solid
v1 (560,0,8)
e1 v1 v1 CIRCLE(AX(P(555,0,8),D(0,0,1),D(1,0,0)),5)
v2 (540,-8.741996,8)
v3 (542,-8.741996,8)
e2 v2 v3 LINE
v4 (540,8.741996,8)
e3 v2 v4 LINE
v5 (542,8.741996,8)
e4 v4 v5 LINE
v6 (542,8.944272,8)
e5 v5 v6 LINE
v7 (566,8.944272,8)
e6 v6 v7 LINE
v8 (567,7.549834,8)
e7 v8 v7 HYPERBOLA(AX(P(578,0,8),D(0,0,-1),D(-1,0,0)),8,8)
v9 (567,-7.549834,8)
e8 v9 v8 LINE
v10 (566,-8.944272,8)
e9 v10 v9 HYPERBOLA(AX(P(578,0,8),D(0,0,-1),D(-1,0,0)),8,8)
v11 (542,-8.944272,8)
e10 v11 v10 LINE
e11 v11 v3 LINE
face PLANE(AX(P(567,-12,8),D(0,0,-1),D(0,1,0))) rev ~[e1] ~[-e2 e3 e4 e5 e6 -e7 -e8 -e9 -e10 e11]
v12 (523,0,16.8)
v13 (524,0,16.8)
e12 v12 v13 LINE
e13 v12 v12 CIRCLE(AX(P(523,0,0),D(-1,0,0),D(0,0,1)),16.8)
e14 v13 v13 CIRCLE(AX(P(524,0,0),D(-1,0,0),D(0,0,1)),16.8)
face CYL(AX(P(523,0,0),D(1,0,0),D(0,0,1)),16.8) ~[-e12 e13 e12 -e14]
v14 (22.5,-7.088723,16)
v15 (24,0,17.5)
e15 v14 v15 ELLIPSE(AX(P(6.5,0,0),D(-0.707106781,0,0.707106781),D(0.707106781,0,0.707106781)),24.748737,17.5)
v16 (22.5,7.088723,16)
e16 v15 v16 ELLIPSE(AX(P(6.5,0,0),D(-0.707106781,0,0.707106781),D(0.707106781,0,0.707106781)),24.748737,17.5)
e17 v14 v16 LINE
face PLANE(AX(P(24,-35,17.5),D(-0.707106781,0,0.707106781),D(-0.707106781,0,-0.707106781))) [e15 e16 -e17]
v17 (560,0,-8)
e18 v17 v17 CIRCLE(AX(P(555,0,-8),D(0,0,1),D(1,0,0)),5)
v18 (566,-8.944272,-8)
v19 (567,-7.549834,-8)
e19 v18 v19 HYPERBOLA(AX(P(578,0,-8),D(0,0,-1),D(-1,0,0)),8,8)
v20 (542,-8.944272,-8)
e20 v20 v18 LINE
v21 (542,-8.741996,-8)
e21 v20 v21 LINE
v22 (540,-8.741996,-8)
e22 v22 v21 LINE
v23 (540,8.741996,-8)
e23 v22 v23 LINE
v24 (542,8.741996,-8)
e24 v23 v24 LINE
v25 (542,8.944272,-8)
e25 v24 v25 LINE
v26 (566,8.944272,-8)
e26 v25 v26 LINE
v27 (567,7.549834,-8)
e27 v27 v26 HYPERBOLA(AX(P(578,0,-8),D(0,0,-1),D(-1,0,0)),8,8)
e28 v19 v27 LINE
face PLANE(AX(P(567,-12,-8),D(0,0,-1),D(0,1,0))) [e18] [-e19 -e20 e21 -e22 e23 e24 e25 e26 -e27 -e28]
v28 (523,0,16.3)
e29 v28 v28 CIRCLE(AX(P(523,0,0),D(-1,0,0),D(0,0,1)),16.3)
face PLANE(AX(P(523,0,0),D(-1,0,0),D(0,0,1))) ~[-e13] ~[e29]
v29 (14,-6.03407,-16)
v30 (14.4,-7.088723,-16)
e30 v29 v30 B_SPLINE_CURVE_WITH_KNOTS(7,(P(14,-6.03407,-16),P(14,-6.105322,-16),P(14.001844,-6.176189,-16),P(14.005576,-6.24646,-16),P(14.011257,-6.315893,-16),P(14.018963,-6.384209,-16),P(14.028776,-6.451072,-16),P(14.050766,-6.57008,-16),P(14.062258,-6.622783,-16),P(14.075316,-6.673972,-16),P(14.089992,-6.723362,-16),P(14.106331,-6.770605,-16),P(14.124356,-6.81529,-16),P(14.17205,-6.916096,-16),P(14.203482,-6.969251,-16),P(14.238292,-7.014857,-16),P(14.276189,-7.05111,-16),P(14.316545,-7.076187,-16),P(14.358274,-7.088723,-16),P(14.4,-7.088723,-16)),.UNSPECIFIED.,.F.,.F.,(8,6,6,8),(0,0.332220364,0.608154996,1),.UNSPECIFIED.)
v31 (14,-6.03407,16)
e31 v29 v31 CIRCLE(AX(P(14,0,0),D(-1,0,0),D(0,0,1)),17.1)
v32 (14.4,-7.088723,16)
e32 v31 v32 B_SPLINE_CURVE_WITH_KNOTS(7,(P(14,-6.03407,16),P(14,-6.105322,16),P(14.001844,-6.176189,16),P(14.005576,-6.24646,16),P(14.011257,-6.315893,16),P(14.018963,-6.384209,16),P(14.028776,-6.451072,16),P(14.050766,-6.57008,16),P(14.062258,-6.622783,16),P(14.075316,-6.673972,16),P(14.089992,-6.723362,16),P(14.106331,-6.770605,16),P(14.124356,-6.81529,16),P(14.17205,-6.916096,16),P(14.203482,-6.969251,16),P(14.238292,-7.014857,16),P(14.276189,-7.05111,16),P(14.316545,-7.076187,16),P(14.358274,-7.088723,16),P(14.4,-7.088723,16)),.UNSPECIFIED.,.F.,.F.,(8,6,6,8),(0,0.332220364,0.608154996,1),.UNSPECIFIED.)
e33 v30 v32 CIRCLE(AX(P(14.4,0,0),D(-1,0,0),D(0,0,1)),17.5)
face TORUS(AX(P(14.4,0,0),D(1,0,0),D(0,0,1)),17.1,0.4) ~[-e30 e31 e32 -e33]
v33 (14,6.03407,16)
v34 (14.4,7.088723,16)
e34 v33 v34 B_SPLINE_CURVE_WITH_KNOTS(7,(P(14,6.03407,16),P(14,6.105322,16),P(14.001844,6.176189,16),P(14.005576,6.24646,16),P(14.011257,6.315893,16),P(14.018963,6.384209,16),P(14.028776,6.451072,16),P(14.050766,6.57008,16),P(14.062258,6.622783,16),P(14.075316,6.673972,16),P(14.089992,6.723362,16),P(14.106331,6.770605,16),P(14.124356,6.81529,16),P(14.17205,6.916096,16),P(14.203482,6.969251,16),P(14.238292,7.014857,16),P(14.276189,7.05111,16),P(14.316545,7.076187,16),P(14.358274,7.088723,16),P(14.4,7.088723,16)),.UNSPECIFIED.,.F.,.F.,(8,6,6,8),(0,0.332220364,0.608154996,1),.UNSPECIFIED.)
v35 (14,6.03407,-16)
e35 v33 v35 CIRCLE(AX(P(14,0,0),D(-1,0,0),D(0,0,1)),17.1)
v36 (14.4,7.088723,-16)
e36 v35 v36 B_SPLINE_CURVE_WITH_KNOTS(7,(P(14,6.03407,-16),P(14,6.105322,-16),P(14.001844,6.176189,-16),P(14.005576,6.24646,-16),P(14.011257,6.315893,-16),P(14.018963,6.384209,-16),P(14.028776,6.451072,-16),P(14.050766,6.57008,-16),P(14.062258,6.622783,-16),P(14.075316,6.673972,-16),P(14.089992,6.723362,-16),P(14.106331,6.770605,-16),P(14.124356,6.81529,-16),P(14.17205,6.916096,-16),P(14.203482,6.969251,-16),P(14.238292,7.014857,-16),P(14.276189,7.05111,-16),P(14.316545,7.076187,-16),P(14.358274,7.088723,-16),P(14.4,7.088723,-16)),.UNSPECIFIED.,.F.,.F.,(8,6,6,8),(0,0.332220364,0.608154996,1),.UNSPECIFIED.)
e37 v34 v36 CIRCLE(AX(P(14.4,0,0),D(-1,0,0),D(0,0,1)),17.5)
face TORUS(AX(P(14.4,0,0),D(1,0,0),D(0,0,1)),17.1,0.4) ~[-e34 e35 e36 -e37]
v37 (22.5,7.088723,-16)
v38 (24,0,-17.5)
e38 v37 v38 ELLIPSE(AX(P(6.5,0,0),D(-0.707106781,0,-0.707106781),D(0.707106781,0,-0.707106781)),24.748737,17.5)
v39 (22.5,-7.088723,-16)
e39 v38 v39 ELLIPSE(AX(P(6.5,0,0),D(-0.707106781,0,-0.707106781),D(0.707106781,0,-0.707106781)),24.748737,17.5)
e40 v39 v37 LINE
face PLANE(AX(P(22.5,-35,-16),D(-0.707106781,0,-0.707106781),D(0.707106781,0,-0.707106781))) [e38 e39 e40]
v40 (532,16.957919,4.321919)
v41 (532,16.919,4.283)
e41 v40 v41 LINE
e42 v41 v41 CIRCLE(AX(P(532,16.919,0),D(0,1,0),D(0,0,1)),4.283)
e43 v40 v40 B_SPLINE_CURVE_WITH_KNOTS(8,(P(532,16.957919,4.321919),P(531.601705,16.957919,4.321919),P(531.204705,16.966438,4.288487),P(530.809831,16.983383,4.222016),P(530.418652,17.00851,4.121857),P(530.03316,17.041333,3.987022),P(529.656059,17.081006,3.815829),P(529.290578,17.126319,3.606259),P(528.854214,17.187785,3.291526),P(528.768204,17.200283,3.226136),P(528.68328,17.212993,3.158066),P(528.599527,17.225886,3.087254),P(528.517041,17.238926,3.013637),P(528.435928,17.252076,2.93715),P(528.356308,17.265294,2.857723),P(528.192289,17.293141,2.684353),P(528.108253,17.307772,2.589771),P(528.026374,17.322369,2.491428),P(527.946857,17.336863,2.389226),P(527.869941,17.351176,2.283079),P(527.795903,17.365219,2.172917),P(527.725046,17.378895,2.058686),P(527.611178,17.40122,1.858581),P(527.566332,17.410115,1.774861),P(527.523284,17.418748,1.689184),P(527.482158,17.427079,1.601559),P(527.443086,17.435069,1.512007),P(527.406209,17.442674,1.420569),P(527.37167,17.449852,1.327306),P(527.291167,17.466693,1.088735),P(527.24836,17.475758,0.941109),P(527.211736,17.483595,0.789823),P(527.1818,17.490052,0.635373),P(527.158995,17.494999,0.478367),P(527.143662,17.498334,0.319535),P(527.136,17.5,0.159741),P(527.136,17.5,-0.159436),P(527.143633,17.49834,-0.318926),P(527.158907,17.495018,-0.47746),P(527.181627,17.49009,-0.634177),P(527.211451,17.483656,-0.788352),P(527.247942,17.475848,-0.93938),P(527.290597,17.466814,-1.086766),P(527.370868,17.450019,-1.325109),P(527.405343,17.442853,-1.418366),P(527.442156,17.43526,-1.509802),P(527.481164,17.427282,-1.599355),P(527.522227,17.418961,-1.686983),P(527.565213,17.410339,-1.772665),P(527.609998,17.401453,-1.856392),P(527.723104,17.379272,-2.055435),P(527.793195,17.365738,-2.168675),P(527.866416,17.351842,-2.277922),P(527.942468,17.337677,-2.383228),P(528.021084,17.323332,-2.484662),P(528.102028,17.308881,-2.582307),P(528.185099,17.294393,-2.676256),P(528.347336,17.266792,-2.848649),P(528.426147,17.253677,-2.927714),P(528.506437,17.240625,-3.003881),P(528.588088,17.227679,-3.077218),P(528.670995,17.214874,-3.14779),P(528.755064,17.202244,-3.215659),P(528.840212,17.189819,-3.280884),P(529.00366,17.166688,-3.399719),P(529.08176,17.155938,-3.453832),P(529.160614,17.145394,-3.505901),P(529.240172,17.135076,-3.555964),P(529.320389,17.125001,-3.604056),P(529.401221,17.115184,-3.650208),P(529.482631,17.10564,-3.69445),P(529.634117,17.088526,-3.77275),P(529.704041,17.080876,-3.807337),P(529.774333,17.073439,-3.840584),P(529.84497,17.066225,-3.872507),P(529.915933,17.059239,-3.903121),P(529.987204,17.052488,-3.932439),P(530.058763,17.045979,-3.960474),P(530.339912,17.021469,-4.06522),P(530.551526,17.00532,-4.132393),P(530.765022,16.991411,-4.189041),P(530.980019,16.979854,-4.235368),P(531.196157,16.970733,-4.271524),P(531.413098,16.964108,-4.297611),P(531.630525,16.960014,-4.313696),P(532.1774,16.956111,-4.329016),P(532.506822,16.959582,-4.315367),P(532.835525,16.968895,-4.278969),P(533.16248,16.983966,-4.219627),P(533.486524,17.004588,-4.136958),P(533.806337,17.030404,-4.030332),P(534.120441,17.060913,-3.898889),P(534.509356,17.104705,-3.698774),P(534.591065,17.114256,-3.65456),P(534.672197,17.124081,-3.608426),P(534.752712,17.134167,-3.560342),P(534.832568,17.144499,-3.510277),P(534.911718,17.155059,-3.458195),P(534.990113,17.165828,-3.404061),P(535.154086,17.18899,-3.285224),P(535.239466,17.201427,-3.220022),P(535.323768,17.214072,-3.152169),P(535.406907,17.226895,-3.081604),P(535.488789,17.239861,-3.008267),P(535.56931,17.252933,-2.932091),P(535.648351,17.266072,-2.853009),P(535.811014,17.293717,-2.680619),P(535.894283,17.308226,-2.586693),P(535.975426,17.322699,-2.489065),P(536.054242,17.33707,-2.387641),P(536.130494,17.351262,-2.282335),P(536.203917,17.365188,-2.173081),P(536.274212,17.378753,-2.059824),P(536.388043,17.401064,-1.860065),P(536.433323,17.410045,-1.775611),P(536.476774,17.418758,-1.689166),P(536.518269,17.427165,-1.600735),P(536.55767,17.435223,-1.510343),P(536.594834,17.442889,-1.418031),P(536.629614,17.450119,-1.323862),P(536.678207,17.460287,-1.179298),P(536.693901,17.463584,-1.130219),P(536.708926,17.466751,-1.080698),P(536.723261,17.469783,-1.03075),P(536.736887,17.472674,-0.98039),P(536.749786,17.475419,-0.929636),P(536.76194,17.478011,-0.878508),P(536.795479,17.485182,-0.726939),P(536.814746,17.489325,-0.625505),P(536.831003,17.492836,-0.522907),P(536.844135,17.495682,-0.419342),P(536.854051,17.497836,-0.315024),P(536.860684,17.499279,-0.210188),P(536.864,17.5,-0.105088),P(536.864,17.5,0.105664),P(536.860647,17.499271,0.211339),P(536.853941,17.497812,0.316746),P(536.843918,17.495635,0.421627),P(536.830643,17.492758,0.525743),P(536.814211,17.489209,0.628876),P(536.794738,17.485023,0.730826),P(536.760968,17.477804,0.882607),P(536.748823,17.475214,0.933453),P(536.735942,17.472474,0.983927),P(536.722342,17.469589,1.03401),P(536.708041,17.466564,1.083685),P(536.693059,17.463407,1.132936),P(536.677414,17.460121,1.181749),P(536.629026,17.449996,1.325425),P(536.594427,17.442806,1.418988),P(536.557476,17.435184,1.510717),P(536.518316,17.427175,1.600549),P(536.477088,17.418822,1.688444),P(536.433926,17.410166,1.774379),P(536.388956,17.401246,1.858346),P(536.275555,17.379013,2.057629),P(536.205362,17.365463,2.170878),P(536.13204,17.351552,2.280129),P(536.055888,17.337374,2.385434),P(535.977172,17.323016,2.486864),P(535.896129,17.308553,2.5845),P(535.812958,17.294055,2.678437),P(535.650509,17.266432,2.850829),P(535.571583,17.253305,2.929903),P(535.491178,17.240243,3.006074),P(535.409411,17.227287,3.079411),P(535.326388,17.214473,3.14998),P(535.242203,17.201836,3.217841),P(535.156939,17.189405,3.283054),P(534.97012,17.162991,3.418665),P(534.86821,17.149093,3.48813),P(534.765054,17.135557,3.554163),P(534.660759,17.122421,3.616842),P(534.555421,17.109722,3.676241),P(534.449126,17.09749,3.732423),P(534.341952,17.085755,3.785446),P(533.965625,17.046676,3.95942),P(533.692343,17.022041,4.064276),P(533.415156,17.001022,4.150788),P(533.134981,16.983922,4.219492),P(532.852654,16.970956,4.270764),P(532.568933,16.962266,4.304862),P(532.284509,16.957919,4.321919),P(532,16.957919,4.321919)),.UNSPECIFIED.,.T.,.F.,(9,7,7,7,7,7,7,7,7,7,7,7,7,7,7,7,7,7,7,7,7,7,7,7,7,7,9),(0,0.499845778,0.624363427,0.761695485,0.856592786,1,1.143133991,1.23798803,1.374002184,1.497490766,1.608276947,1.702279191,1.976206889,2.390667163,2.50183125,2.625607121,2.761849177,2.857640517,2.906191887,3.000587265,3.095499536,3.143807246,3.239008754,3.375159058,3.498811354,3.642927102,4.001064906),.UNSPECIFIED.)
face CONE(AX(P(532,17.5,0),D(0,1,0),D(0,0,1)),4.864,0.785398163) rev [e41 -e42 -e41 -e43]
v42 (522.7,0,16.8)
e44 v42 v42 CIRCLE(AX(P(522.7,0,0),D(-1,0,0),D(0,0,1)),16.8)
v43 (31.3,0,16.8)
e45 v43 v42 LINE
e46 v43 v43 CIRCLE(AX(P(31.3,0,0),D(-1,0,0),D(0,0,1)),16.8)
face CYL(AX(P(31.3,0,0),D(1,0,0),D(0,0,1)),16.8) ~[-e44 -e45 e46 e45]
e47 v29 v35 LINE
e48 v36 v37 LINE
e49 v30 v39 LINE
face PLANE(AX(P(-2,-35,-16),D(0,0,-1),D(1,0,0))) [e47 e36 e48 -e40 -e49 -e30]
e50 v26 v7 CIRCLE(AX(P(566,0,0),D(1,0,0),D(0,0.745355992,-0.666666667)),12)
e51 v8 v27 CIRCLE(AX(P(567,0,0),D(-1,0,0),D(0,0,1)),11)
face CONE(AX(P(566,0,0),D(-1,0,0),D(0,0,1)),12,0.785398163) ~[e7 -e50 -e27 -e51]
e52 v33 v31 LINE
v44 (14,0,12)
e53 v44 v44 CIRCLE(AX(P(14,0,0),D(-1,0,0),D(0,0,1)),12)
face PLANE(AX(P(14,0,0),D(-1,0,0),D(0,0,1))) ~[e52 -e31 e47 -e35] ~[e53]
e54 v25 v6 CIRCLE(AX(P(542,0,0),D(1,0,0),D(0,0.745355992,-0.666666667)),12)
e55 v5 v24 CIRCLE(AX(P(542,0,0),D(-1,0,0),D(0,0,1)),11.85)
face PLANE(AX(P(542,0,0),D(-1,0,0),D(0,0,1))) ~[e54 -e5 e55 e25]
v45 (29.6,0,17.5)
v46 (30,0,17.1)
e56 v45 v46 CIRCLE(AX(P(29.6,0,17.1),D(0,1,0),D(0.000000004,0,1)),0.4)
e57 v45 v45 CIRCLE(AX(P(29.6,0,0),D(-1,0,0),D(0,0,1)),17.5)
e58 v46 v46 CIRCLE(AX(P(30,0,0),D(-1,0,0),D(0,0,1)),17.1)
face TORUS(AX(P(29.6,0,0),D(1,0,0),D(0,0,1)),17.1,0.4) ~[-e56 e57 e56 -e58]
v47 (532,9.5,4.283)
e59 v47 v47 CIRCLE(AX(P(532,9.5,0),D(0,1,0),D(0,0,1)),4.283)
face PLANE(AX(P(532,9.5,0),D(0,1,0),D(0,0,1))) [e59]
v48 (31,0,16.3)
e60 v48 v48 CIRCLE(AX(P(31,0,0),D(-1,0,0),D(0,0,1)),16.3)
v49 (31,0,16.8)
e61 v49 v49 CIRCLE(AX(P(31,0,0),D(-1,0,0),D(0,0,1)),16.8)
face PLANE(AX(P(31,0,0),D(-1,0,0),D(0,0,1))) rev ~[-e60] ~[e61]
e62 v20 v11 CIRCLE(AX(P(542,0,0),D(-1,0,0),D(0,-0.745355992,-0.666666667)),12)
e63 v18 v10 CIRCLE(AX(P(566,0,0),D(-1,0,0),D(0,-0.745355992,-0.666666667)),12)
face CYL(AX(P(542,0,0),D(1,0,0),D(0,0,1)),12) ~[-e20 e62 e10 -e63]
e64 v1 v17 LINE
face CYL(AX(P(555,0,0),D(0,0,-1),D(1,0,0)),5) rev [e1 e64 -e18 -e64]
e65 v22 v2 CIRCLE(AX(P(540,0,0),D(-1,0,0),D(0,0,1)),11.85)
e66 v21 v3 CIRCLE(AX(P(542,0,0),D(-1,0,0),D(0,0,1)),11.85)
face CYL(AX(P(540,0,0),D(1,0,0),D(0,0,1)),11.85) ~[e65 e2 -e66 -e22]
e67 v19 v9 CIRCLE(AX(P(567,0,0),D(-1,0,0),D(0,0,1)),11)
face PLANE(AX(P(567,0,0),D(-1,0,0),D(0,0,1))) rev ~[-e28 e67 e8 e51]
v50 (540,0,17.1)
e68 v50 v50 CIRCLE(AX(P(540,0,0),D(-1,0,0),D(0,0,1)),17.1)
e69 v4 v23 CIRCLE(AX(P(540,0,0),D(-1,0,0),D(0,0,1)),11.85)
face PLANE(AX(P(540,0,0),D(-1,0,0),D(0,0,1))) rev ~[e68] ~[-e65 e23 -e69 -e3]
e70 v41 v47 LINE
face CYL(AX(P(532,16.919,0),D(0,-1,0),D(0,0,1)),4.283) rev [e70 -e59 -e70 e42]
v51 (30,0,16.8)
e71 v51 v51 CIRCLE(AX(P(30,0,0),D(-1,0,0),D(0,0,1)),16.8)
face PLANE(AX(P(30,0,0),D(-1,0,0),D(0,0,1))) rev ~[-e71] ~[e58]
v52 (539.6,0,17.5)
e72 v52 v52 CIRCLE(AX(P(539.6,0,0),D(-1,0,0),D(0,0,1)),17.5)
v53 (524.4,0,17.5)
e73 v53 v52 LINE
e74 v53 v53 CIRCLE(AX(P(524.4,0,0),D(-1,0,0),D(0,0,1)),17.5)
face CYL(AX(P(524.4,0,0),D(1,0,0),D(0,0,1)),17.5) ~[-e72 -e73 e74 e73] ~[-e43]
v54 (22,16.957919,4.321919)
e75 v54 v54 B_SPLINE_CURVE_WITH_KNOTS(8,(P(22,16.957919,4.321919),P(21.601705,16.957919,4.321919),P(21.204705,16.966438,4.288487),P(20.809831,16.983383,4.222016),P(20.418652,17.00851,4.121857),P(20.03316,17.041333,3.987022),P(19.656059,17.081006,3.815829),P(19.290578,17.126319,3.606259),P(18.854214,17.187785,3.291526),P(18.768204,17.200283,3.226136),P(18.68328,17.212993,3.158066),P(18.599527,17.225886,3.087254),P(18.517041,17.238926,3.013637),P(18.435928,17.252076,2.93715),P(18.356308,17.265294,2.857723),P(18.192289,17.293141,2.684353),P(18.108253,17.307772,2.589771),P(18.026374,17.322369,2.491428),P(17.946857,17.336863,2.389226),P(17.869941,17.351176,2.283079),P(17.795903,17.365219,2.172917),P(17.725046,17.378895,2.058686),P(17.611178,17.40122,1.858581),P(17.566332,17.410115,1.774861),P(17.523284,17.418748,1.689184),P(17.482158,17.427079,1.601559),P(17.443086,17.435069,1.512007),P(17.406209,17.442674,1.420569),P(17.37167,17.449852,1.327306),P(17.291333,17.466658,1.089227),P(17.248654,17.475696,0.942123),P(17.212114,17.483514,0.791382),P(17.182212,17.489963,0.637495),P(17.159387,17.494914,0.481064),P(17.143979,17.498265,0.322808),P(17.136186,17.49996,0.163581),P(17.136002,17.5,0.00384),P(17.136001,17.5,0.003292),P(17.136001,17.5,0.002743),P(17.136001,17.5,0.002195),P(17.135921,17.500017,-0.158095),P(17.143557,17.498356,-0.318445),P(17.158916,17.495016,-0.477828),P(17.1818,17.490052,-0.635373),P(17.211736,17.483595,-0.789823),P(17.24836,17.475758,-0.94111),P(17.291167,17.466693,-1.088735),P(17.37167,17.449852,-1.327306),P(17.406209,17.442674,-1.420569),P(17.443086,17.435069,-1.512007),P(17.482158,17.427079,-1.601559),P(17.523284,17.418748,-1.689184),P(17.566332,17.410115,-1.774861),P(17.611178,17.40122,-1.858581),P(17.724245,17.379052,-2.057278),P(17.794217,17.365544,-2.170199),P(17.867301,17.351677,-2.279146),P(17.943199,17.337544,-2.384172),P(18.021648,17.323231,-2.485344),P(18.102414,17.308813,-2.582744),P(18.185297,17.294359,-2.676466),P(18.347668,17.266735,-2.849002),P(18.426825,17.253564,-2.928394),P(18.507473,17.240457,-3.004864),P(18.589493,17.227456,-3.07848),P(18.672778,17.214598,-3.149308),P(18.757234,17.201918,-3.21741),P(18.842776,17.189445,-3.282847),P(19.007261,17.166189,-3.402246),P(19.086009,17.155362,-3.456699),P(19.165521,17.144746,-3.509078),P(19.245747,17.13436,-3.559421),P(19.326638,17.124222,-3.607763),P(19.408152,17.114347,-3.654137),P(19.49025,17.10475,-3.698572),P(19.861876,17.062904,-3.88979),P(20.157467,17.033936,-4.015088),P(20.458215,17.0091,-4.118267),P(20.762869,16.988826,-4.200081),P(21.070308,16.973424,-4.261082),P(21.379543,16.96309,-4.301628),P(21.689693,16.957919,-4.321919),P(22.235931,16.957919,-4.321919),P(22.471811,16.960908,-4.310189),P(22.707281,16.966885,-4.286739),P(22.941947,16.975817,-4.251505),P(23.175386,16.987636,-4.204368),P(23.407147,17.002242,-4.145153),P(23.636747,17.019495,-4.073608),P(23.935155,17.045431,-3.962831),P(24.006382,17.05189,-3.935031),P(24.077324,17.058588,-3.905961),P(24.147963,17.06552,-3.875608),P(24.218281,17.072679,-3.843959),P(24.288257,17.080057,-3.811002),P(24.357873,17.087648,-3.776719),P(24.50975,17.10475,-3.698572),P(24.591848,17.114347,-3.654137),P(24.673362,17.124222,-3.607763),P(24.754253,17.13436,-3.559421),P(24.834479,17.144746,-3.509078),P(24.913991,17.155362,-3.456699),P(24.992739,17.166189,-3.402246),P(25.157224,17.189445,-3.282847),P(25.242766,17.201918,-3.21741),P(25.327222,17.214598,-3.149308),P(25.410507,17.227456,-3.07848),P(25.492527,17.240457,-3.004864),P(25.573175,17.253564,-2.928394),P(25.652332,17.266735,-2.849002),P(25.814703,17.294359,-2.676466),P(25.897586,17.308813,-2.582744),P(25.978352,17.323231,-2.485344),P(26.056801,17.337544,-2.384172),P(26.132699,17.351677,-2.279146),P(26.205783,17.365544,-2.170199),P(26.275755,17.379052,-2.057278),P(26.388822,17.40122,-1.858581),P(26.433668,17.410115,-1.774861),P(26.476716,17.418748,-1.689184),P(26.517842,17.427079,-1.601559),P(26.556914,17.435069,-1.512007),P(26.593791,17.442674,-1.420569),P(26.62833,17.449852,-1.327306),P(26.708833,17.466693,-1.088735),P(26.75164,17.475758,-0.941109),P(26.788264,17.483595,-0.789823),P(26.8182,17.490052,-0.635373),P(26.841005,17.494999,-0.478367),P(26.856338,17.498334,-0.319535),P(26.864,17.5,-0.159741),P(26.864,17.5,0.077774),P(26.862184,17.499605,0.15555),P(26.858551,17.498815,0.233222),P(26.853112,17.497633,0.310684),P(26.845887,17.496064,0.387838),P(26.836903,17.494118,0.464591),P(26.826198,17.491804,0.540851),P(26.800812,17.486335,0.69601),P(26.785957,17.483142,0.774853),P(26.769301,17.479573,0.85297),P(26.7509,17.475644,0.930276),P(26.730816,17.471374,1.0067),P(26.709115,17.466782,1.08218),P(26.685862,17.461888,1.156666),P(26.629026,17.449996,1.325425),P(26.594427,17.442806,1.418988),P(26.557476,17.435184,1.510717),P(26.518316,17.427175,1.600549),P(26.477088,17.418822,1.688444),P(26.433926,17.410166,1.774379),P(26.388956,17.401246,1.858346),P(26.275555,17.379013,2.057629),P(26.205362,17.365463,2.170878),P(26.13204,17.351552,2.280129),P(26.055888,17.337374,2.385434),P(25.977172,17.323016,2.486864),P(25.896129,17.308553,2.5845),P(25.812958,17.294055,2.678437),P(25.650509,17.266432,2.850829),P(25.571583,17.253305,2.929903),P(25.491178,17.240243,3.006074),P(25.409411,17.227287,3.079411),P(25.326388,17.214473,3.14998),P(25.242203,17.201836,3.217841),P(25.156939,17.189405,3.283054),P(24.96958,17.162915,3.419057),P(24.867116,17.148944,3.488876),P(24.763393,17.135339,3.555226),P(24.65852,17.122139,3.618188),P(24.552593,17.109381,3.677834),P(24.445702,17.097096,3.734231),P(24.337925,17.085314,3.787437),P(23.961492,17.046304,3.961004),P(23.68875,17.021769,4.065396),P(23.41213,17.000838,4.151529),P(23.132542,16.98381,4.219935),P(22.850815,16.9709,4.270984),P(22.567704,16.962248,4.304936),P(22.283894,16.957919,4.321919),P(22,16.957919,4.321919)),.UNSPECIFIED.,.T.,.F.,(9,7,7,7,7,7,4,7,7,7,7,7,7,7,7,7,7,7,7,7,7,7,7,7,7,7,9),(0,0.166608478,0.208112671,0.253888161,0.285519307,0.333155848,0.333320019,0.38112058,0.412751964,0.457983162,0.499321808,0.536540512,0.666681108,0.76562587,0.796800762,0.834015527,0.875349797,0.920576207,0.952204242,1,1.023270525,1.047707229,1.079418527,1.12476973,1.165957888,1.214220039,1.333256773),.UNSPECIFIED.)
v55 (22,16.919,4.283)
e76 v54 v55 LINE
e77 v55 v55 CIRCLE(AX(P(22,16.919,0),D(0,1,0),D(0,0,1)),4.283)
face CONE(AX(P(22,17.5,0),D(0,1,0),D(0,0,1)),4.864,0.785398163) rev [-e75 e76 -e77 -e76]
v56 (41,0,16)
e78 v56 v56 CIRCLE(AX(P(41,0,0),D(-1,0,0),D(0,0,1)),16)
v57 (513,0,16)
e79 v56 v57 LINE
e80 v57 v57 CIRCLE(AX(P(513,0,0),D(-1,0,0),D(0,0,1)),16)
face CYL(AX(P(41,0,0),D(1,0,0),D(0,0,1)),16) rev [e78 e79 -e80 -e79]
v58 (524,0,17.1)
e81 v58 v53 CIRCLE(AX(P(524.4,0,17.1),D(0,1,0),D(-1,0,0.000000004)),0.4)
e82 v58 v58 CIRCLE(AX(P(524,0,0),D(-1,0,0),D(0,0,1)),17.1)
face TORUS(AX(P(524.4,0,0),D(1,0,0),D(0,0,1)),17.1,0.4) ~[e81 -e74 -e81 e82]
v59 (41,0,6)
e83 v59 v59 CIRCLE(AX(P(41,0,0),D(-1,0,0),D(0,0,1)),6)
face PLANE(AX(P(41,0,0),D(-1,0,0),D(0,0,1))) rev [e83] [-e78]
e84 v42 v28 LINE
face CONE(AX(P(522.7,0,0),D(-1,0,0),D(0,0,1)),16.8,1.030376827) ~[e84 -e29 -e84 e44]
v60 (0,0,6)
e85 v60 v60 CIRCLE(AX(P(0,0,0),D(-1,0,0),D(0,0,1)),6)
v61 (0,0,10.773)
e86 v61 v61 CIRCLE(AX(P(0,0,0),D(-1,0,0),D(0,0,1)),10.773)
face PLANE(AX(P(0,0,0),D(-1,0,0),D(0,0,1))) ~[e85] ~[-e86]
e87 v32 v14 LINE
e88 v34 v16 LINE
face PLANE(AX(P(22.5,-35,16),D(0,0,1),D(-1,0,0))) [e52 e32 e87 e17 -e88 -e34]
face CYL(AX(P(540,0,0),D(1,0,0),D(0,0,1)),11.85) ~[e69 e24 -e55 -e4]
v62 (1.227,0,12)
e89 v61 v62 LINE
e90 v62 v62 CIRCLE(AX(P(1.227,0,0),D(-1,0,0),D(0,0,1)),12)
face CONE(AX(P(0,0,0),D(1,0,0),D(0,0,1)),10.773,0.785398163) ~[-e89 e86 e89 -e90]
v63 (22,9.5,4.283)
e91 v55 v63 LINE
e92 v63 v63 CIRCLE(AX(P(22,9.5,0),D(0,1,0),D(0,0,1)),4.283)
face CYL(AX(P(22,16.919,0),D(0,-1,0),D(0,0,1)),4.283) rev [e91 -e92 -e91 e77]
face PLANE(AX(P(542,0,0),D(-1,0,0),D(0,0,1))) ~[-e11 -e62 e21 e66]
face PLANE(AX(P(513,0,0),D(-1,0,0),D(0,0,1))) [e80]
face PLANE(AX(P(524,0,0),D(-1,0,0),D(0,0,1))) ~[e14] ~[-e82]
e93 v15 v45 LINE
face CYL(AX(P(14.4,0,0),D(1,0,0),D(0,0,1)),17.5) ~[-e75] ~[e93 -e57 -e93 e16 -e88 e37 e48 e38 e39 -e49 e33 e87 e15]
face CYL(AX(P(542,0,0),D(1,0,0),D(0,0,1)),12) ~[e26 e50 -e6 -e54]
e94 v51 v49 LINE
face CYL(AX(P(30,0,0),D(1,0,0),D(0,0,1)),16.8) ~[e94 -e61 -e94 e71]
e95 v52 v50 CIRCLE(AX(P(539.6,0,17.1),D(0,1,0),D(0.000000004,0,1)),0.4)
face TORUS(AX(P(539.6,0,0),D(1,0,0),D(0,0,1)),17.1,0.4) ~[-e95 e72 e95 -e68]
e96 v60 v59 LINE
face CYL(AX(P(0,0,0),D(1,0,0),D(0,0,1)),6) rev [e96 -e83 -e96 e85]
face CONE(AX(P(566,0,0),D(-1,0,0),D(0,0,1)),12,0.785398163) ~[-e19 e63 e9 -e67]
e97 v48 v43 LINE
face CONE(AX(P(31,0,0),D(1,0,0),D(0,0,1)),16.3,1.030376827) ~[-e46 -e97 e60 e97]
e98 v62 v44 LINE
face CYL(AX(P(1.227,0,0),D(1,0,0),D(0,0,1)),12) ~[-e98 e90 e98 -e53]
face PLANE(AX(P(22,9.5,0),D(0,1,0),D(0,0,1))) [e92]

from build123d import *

# Parameters (mm, degrees)
SKETCH_3_W               = 36
SKETCH_3_H               = 44
SKETCH_3_W_2             = 16
SKETCH_3_H_2             = 24
CUT_EXTRUDE_1_DEPTH      = 27
SKETCH_4_W               = 16
SKETCH_4_H               = 5
CUT_EXTRUDE_2_DEPTH      = 35
CUT_EXTRUDE_2_DEPTH_BACK = 35


with BuildPart() as part:
    # 草图1 → 旋转1 (revolve)
    with BuildSketch(Plane.XY):
        with BuildLine():
            Line((0, 0), (0, 10.773))
            Line((0, 10.773), (1.227, 12))
            Line((1.227, 12), (14, 12))
            Line((14, 12), (14, 17.1))
            ThreePointArc((14, 17.1), (14.117157288, 17.382842712), (14.4, 17.5))
            Line((14.4, 17.5), (29.6, 17.5))
            ThreePointArc((29.6, 17.5), (29.882842712, 17.382842712), (30, 17.1))
            Line((30, 17.1), (30, 16.8))
            Line((30, 16.8), (31, 16.8))
            Line((31, 16.8), (31, 16.3))
            Line((31, 16.3), (31.3, 16.8))
            Line((31.3, 16.8), (522.7, 16.8))
            Line((522.7, 16.8), (523, 16.3))
            Line((523, 16.3), (523, 16.8))
            Line((523, 16.8), (524, 16.8))
            Line((524, 16.8), (524, 17.1))
            ThreePointArc((524, 17.1), (524.117157288, 17.382842712), (524.4, 17.5))
            Line((524.4, 17.5), (539.6, 17.5))
            ThreePointArc((539.6, 17.5), (539.882842712, 17.382842712), (540, 17.1))
            Line((540, 17.1), (540, 0))
            Line((540, 0), (0, 0))
        make_face()
    revolve(axis=Axis((540, 0, 0), (-1, 0, 0)))

    # 草图2 → 旋转2 (revolve)
    with BuildSketch(Plane.XY):
        Polygon((540, 0), (540, 11.85), (542, 11.85), (542, 12), (566, 12), (567, 11), (567, 0), align=None)
    revolve(axis=Axis((567, 0, 0), (-1, 0, 0)))

    # 草图3 → 切除-拉伸1 (cut)
    with BuildSketch(Plane(origin=(567, 0, 0), x_dir=(0, 0, -1), z_dir=(1, 0, 0))):
        Rectangle(SKETCH_3_W, SKETCH_3_H)
        Rectangle(SKETCH_3_W_2, SKETCH_3_H_2, mode=Mode.SUBTRACT)
    extrude(amount=-CUT_EXTRUDE_1_DEPTH, mode=Mode.SUBTRACT)

    # 草图4 → 切除-旋转1 (revolve, cut)
    with BuildSketch(Plane(origin=(555, 0, 0), x_dir=(0, 0, -1), z_dir=(1, 0, 0))):
        with Locations((0, 2.5)):
            Rectangle(SKETCH_4_W, SKETCH_4_H)
    revolve(axis=Axis((555, 0, -8), (0, 0, 1)), mode=Mode.SUBTRACT)

    # 草图5 → 切除-旋转2 (revolve, cut)
    with BuildSketch(Plane.XY):
        Polygon((22, 17.5), (26.864, 17.5), (26.283, 16.919), (26.283, 9.5), (22, 9.5), align=None)
    revolve(axis=Axis((22, 9.5, 0), (0, 1, 0)), mode=Mode.SUBTRACT)

    # 草图6 → 切除-旋转3 (revolve, cut)
    with BuildSketch(Plane.XY):
        Polygon((532, 17.5), (536.864, 17.5), (536.283, 16.919), (536.283, 9.5), (532, 9.5), align=None)
    revolve(axis=Axis((532, 9.5, 0), (0, 1, 0)), mode=Mode.SUBTRACT)

    # 草图7 → 切除-拉伸2 (cut, two sides: drawn at the far end of the back side and taken through both)
    with BuildSketch(Plane(origin=(0, 0, 0), x_dir=(1, 0, 0), z_dir=(0, 1, 0)).offset(-CUT_EXTRUDE_2_DEPTH_BACK)):
        Polygon((-4, -17.5), (24, -17.5), (22.5, -16), (-2, -16), (-2, 16), (22.5, 16), (24, 17.5), (-4, 17.5), align=None)
    extrude(amount=CUT_EXTRUDE_2_DEPTH + CUT_EXTRUDE_2_DEPTH_BACK, mode=Mode.SUBTRACT)

    # 草图8 → 切除-旋转4 (revolve, cut)
    with BuildSketch(Plane.XY):
        Polygon((0, 0), (0, 6), (41, 6), (41, 16), (513, 16), (513, 0), align=None)
    revolve(axis=Axis((513, 0, 0), (-1, 0, 0)), mode=Mode.SUBTRACT)


solid = part.part
